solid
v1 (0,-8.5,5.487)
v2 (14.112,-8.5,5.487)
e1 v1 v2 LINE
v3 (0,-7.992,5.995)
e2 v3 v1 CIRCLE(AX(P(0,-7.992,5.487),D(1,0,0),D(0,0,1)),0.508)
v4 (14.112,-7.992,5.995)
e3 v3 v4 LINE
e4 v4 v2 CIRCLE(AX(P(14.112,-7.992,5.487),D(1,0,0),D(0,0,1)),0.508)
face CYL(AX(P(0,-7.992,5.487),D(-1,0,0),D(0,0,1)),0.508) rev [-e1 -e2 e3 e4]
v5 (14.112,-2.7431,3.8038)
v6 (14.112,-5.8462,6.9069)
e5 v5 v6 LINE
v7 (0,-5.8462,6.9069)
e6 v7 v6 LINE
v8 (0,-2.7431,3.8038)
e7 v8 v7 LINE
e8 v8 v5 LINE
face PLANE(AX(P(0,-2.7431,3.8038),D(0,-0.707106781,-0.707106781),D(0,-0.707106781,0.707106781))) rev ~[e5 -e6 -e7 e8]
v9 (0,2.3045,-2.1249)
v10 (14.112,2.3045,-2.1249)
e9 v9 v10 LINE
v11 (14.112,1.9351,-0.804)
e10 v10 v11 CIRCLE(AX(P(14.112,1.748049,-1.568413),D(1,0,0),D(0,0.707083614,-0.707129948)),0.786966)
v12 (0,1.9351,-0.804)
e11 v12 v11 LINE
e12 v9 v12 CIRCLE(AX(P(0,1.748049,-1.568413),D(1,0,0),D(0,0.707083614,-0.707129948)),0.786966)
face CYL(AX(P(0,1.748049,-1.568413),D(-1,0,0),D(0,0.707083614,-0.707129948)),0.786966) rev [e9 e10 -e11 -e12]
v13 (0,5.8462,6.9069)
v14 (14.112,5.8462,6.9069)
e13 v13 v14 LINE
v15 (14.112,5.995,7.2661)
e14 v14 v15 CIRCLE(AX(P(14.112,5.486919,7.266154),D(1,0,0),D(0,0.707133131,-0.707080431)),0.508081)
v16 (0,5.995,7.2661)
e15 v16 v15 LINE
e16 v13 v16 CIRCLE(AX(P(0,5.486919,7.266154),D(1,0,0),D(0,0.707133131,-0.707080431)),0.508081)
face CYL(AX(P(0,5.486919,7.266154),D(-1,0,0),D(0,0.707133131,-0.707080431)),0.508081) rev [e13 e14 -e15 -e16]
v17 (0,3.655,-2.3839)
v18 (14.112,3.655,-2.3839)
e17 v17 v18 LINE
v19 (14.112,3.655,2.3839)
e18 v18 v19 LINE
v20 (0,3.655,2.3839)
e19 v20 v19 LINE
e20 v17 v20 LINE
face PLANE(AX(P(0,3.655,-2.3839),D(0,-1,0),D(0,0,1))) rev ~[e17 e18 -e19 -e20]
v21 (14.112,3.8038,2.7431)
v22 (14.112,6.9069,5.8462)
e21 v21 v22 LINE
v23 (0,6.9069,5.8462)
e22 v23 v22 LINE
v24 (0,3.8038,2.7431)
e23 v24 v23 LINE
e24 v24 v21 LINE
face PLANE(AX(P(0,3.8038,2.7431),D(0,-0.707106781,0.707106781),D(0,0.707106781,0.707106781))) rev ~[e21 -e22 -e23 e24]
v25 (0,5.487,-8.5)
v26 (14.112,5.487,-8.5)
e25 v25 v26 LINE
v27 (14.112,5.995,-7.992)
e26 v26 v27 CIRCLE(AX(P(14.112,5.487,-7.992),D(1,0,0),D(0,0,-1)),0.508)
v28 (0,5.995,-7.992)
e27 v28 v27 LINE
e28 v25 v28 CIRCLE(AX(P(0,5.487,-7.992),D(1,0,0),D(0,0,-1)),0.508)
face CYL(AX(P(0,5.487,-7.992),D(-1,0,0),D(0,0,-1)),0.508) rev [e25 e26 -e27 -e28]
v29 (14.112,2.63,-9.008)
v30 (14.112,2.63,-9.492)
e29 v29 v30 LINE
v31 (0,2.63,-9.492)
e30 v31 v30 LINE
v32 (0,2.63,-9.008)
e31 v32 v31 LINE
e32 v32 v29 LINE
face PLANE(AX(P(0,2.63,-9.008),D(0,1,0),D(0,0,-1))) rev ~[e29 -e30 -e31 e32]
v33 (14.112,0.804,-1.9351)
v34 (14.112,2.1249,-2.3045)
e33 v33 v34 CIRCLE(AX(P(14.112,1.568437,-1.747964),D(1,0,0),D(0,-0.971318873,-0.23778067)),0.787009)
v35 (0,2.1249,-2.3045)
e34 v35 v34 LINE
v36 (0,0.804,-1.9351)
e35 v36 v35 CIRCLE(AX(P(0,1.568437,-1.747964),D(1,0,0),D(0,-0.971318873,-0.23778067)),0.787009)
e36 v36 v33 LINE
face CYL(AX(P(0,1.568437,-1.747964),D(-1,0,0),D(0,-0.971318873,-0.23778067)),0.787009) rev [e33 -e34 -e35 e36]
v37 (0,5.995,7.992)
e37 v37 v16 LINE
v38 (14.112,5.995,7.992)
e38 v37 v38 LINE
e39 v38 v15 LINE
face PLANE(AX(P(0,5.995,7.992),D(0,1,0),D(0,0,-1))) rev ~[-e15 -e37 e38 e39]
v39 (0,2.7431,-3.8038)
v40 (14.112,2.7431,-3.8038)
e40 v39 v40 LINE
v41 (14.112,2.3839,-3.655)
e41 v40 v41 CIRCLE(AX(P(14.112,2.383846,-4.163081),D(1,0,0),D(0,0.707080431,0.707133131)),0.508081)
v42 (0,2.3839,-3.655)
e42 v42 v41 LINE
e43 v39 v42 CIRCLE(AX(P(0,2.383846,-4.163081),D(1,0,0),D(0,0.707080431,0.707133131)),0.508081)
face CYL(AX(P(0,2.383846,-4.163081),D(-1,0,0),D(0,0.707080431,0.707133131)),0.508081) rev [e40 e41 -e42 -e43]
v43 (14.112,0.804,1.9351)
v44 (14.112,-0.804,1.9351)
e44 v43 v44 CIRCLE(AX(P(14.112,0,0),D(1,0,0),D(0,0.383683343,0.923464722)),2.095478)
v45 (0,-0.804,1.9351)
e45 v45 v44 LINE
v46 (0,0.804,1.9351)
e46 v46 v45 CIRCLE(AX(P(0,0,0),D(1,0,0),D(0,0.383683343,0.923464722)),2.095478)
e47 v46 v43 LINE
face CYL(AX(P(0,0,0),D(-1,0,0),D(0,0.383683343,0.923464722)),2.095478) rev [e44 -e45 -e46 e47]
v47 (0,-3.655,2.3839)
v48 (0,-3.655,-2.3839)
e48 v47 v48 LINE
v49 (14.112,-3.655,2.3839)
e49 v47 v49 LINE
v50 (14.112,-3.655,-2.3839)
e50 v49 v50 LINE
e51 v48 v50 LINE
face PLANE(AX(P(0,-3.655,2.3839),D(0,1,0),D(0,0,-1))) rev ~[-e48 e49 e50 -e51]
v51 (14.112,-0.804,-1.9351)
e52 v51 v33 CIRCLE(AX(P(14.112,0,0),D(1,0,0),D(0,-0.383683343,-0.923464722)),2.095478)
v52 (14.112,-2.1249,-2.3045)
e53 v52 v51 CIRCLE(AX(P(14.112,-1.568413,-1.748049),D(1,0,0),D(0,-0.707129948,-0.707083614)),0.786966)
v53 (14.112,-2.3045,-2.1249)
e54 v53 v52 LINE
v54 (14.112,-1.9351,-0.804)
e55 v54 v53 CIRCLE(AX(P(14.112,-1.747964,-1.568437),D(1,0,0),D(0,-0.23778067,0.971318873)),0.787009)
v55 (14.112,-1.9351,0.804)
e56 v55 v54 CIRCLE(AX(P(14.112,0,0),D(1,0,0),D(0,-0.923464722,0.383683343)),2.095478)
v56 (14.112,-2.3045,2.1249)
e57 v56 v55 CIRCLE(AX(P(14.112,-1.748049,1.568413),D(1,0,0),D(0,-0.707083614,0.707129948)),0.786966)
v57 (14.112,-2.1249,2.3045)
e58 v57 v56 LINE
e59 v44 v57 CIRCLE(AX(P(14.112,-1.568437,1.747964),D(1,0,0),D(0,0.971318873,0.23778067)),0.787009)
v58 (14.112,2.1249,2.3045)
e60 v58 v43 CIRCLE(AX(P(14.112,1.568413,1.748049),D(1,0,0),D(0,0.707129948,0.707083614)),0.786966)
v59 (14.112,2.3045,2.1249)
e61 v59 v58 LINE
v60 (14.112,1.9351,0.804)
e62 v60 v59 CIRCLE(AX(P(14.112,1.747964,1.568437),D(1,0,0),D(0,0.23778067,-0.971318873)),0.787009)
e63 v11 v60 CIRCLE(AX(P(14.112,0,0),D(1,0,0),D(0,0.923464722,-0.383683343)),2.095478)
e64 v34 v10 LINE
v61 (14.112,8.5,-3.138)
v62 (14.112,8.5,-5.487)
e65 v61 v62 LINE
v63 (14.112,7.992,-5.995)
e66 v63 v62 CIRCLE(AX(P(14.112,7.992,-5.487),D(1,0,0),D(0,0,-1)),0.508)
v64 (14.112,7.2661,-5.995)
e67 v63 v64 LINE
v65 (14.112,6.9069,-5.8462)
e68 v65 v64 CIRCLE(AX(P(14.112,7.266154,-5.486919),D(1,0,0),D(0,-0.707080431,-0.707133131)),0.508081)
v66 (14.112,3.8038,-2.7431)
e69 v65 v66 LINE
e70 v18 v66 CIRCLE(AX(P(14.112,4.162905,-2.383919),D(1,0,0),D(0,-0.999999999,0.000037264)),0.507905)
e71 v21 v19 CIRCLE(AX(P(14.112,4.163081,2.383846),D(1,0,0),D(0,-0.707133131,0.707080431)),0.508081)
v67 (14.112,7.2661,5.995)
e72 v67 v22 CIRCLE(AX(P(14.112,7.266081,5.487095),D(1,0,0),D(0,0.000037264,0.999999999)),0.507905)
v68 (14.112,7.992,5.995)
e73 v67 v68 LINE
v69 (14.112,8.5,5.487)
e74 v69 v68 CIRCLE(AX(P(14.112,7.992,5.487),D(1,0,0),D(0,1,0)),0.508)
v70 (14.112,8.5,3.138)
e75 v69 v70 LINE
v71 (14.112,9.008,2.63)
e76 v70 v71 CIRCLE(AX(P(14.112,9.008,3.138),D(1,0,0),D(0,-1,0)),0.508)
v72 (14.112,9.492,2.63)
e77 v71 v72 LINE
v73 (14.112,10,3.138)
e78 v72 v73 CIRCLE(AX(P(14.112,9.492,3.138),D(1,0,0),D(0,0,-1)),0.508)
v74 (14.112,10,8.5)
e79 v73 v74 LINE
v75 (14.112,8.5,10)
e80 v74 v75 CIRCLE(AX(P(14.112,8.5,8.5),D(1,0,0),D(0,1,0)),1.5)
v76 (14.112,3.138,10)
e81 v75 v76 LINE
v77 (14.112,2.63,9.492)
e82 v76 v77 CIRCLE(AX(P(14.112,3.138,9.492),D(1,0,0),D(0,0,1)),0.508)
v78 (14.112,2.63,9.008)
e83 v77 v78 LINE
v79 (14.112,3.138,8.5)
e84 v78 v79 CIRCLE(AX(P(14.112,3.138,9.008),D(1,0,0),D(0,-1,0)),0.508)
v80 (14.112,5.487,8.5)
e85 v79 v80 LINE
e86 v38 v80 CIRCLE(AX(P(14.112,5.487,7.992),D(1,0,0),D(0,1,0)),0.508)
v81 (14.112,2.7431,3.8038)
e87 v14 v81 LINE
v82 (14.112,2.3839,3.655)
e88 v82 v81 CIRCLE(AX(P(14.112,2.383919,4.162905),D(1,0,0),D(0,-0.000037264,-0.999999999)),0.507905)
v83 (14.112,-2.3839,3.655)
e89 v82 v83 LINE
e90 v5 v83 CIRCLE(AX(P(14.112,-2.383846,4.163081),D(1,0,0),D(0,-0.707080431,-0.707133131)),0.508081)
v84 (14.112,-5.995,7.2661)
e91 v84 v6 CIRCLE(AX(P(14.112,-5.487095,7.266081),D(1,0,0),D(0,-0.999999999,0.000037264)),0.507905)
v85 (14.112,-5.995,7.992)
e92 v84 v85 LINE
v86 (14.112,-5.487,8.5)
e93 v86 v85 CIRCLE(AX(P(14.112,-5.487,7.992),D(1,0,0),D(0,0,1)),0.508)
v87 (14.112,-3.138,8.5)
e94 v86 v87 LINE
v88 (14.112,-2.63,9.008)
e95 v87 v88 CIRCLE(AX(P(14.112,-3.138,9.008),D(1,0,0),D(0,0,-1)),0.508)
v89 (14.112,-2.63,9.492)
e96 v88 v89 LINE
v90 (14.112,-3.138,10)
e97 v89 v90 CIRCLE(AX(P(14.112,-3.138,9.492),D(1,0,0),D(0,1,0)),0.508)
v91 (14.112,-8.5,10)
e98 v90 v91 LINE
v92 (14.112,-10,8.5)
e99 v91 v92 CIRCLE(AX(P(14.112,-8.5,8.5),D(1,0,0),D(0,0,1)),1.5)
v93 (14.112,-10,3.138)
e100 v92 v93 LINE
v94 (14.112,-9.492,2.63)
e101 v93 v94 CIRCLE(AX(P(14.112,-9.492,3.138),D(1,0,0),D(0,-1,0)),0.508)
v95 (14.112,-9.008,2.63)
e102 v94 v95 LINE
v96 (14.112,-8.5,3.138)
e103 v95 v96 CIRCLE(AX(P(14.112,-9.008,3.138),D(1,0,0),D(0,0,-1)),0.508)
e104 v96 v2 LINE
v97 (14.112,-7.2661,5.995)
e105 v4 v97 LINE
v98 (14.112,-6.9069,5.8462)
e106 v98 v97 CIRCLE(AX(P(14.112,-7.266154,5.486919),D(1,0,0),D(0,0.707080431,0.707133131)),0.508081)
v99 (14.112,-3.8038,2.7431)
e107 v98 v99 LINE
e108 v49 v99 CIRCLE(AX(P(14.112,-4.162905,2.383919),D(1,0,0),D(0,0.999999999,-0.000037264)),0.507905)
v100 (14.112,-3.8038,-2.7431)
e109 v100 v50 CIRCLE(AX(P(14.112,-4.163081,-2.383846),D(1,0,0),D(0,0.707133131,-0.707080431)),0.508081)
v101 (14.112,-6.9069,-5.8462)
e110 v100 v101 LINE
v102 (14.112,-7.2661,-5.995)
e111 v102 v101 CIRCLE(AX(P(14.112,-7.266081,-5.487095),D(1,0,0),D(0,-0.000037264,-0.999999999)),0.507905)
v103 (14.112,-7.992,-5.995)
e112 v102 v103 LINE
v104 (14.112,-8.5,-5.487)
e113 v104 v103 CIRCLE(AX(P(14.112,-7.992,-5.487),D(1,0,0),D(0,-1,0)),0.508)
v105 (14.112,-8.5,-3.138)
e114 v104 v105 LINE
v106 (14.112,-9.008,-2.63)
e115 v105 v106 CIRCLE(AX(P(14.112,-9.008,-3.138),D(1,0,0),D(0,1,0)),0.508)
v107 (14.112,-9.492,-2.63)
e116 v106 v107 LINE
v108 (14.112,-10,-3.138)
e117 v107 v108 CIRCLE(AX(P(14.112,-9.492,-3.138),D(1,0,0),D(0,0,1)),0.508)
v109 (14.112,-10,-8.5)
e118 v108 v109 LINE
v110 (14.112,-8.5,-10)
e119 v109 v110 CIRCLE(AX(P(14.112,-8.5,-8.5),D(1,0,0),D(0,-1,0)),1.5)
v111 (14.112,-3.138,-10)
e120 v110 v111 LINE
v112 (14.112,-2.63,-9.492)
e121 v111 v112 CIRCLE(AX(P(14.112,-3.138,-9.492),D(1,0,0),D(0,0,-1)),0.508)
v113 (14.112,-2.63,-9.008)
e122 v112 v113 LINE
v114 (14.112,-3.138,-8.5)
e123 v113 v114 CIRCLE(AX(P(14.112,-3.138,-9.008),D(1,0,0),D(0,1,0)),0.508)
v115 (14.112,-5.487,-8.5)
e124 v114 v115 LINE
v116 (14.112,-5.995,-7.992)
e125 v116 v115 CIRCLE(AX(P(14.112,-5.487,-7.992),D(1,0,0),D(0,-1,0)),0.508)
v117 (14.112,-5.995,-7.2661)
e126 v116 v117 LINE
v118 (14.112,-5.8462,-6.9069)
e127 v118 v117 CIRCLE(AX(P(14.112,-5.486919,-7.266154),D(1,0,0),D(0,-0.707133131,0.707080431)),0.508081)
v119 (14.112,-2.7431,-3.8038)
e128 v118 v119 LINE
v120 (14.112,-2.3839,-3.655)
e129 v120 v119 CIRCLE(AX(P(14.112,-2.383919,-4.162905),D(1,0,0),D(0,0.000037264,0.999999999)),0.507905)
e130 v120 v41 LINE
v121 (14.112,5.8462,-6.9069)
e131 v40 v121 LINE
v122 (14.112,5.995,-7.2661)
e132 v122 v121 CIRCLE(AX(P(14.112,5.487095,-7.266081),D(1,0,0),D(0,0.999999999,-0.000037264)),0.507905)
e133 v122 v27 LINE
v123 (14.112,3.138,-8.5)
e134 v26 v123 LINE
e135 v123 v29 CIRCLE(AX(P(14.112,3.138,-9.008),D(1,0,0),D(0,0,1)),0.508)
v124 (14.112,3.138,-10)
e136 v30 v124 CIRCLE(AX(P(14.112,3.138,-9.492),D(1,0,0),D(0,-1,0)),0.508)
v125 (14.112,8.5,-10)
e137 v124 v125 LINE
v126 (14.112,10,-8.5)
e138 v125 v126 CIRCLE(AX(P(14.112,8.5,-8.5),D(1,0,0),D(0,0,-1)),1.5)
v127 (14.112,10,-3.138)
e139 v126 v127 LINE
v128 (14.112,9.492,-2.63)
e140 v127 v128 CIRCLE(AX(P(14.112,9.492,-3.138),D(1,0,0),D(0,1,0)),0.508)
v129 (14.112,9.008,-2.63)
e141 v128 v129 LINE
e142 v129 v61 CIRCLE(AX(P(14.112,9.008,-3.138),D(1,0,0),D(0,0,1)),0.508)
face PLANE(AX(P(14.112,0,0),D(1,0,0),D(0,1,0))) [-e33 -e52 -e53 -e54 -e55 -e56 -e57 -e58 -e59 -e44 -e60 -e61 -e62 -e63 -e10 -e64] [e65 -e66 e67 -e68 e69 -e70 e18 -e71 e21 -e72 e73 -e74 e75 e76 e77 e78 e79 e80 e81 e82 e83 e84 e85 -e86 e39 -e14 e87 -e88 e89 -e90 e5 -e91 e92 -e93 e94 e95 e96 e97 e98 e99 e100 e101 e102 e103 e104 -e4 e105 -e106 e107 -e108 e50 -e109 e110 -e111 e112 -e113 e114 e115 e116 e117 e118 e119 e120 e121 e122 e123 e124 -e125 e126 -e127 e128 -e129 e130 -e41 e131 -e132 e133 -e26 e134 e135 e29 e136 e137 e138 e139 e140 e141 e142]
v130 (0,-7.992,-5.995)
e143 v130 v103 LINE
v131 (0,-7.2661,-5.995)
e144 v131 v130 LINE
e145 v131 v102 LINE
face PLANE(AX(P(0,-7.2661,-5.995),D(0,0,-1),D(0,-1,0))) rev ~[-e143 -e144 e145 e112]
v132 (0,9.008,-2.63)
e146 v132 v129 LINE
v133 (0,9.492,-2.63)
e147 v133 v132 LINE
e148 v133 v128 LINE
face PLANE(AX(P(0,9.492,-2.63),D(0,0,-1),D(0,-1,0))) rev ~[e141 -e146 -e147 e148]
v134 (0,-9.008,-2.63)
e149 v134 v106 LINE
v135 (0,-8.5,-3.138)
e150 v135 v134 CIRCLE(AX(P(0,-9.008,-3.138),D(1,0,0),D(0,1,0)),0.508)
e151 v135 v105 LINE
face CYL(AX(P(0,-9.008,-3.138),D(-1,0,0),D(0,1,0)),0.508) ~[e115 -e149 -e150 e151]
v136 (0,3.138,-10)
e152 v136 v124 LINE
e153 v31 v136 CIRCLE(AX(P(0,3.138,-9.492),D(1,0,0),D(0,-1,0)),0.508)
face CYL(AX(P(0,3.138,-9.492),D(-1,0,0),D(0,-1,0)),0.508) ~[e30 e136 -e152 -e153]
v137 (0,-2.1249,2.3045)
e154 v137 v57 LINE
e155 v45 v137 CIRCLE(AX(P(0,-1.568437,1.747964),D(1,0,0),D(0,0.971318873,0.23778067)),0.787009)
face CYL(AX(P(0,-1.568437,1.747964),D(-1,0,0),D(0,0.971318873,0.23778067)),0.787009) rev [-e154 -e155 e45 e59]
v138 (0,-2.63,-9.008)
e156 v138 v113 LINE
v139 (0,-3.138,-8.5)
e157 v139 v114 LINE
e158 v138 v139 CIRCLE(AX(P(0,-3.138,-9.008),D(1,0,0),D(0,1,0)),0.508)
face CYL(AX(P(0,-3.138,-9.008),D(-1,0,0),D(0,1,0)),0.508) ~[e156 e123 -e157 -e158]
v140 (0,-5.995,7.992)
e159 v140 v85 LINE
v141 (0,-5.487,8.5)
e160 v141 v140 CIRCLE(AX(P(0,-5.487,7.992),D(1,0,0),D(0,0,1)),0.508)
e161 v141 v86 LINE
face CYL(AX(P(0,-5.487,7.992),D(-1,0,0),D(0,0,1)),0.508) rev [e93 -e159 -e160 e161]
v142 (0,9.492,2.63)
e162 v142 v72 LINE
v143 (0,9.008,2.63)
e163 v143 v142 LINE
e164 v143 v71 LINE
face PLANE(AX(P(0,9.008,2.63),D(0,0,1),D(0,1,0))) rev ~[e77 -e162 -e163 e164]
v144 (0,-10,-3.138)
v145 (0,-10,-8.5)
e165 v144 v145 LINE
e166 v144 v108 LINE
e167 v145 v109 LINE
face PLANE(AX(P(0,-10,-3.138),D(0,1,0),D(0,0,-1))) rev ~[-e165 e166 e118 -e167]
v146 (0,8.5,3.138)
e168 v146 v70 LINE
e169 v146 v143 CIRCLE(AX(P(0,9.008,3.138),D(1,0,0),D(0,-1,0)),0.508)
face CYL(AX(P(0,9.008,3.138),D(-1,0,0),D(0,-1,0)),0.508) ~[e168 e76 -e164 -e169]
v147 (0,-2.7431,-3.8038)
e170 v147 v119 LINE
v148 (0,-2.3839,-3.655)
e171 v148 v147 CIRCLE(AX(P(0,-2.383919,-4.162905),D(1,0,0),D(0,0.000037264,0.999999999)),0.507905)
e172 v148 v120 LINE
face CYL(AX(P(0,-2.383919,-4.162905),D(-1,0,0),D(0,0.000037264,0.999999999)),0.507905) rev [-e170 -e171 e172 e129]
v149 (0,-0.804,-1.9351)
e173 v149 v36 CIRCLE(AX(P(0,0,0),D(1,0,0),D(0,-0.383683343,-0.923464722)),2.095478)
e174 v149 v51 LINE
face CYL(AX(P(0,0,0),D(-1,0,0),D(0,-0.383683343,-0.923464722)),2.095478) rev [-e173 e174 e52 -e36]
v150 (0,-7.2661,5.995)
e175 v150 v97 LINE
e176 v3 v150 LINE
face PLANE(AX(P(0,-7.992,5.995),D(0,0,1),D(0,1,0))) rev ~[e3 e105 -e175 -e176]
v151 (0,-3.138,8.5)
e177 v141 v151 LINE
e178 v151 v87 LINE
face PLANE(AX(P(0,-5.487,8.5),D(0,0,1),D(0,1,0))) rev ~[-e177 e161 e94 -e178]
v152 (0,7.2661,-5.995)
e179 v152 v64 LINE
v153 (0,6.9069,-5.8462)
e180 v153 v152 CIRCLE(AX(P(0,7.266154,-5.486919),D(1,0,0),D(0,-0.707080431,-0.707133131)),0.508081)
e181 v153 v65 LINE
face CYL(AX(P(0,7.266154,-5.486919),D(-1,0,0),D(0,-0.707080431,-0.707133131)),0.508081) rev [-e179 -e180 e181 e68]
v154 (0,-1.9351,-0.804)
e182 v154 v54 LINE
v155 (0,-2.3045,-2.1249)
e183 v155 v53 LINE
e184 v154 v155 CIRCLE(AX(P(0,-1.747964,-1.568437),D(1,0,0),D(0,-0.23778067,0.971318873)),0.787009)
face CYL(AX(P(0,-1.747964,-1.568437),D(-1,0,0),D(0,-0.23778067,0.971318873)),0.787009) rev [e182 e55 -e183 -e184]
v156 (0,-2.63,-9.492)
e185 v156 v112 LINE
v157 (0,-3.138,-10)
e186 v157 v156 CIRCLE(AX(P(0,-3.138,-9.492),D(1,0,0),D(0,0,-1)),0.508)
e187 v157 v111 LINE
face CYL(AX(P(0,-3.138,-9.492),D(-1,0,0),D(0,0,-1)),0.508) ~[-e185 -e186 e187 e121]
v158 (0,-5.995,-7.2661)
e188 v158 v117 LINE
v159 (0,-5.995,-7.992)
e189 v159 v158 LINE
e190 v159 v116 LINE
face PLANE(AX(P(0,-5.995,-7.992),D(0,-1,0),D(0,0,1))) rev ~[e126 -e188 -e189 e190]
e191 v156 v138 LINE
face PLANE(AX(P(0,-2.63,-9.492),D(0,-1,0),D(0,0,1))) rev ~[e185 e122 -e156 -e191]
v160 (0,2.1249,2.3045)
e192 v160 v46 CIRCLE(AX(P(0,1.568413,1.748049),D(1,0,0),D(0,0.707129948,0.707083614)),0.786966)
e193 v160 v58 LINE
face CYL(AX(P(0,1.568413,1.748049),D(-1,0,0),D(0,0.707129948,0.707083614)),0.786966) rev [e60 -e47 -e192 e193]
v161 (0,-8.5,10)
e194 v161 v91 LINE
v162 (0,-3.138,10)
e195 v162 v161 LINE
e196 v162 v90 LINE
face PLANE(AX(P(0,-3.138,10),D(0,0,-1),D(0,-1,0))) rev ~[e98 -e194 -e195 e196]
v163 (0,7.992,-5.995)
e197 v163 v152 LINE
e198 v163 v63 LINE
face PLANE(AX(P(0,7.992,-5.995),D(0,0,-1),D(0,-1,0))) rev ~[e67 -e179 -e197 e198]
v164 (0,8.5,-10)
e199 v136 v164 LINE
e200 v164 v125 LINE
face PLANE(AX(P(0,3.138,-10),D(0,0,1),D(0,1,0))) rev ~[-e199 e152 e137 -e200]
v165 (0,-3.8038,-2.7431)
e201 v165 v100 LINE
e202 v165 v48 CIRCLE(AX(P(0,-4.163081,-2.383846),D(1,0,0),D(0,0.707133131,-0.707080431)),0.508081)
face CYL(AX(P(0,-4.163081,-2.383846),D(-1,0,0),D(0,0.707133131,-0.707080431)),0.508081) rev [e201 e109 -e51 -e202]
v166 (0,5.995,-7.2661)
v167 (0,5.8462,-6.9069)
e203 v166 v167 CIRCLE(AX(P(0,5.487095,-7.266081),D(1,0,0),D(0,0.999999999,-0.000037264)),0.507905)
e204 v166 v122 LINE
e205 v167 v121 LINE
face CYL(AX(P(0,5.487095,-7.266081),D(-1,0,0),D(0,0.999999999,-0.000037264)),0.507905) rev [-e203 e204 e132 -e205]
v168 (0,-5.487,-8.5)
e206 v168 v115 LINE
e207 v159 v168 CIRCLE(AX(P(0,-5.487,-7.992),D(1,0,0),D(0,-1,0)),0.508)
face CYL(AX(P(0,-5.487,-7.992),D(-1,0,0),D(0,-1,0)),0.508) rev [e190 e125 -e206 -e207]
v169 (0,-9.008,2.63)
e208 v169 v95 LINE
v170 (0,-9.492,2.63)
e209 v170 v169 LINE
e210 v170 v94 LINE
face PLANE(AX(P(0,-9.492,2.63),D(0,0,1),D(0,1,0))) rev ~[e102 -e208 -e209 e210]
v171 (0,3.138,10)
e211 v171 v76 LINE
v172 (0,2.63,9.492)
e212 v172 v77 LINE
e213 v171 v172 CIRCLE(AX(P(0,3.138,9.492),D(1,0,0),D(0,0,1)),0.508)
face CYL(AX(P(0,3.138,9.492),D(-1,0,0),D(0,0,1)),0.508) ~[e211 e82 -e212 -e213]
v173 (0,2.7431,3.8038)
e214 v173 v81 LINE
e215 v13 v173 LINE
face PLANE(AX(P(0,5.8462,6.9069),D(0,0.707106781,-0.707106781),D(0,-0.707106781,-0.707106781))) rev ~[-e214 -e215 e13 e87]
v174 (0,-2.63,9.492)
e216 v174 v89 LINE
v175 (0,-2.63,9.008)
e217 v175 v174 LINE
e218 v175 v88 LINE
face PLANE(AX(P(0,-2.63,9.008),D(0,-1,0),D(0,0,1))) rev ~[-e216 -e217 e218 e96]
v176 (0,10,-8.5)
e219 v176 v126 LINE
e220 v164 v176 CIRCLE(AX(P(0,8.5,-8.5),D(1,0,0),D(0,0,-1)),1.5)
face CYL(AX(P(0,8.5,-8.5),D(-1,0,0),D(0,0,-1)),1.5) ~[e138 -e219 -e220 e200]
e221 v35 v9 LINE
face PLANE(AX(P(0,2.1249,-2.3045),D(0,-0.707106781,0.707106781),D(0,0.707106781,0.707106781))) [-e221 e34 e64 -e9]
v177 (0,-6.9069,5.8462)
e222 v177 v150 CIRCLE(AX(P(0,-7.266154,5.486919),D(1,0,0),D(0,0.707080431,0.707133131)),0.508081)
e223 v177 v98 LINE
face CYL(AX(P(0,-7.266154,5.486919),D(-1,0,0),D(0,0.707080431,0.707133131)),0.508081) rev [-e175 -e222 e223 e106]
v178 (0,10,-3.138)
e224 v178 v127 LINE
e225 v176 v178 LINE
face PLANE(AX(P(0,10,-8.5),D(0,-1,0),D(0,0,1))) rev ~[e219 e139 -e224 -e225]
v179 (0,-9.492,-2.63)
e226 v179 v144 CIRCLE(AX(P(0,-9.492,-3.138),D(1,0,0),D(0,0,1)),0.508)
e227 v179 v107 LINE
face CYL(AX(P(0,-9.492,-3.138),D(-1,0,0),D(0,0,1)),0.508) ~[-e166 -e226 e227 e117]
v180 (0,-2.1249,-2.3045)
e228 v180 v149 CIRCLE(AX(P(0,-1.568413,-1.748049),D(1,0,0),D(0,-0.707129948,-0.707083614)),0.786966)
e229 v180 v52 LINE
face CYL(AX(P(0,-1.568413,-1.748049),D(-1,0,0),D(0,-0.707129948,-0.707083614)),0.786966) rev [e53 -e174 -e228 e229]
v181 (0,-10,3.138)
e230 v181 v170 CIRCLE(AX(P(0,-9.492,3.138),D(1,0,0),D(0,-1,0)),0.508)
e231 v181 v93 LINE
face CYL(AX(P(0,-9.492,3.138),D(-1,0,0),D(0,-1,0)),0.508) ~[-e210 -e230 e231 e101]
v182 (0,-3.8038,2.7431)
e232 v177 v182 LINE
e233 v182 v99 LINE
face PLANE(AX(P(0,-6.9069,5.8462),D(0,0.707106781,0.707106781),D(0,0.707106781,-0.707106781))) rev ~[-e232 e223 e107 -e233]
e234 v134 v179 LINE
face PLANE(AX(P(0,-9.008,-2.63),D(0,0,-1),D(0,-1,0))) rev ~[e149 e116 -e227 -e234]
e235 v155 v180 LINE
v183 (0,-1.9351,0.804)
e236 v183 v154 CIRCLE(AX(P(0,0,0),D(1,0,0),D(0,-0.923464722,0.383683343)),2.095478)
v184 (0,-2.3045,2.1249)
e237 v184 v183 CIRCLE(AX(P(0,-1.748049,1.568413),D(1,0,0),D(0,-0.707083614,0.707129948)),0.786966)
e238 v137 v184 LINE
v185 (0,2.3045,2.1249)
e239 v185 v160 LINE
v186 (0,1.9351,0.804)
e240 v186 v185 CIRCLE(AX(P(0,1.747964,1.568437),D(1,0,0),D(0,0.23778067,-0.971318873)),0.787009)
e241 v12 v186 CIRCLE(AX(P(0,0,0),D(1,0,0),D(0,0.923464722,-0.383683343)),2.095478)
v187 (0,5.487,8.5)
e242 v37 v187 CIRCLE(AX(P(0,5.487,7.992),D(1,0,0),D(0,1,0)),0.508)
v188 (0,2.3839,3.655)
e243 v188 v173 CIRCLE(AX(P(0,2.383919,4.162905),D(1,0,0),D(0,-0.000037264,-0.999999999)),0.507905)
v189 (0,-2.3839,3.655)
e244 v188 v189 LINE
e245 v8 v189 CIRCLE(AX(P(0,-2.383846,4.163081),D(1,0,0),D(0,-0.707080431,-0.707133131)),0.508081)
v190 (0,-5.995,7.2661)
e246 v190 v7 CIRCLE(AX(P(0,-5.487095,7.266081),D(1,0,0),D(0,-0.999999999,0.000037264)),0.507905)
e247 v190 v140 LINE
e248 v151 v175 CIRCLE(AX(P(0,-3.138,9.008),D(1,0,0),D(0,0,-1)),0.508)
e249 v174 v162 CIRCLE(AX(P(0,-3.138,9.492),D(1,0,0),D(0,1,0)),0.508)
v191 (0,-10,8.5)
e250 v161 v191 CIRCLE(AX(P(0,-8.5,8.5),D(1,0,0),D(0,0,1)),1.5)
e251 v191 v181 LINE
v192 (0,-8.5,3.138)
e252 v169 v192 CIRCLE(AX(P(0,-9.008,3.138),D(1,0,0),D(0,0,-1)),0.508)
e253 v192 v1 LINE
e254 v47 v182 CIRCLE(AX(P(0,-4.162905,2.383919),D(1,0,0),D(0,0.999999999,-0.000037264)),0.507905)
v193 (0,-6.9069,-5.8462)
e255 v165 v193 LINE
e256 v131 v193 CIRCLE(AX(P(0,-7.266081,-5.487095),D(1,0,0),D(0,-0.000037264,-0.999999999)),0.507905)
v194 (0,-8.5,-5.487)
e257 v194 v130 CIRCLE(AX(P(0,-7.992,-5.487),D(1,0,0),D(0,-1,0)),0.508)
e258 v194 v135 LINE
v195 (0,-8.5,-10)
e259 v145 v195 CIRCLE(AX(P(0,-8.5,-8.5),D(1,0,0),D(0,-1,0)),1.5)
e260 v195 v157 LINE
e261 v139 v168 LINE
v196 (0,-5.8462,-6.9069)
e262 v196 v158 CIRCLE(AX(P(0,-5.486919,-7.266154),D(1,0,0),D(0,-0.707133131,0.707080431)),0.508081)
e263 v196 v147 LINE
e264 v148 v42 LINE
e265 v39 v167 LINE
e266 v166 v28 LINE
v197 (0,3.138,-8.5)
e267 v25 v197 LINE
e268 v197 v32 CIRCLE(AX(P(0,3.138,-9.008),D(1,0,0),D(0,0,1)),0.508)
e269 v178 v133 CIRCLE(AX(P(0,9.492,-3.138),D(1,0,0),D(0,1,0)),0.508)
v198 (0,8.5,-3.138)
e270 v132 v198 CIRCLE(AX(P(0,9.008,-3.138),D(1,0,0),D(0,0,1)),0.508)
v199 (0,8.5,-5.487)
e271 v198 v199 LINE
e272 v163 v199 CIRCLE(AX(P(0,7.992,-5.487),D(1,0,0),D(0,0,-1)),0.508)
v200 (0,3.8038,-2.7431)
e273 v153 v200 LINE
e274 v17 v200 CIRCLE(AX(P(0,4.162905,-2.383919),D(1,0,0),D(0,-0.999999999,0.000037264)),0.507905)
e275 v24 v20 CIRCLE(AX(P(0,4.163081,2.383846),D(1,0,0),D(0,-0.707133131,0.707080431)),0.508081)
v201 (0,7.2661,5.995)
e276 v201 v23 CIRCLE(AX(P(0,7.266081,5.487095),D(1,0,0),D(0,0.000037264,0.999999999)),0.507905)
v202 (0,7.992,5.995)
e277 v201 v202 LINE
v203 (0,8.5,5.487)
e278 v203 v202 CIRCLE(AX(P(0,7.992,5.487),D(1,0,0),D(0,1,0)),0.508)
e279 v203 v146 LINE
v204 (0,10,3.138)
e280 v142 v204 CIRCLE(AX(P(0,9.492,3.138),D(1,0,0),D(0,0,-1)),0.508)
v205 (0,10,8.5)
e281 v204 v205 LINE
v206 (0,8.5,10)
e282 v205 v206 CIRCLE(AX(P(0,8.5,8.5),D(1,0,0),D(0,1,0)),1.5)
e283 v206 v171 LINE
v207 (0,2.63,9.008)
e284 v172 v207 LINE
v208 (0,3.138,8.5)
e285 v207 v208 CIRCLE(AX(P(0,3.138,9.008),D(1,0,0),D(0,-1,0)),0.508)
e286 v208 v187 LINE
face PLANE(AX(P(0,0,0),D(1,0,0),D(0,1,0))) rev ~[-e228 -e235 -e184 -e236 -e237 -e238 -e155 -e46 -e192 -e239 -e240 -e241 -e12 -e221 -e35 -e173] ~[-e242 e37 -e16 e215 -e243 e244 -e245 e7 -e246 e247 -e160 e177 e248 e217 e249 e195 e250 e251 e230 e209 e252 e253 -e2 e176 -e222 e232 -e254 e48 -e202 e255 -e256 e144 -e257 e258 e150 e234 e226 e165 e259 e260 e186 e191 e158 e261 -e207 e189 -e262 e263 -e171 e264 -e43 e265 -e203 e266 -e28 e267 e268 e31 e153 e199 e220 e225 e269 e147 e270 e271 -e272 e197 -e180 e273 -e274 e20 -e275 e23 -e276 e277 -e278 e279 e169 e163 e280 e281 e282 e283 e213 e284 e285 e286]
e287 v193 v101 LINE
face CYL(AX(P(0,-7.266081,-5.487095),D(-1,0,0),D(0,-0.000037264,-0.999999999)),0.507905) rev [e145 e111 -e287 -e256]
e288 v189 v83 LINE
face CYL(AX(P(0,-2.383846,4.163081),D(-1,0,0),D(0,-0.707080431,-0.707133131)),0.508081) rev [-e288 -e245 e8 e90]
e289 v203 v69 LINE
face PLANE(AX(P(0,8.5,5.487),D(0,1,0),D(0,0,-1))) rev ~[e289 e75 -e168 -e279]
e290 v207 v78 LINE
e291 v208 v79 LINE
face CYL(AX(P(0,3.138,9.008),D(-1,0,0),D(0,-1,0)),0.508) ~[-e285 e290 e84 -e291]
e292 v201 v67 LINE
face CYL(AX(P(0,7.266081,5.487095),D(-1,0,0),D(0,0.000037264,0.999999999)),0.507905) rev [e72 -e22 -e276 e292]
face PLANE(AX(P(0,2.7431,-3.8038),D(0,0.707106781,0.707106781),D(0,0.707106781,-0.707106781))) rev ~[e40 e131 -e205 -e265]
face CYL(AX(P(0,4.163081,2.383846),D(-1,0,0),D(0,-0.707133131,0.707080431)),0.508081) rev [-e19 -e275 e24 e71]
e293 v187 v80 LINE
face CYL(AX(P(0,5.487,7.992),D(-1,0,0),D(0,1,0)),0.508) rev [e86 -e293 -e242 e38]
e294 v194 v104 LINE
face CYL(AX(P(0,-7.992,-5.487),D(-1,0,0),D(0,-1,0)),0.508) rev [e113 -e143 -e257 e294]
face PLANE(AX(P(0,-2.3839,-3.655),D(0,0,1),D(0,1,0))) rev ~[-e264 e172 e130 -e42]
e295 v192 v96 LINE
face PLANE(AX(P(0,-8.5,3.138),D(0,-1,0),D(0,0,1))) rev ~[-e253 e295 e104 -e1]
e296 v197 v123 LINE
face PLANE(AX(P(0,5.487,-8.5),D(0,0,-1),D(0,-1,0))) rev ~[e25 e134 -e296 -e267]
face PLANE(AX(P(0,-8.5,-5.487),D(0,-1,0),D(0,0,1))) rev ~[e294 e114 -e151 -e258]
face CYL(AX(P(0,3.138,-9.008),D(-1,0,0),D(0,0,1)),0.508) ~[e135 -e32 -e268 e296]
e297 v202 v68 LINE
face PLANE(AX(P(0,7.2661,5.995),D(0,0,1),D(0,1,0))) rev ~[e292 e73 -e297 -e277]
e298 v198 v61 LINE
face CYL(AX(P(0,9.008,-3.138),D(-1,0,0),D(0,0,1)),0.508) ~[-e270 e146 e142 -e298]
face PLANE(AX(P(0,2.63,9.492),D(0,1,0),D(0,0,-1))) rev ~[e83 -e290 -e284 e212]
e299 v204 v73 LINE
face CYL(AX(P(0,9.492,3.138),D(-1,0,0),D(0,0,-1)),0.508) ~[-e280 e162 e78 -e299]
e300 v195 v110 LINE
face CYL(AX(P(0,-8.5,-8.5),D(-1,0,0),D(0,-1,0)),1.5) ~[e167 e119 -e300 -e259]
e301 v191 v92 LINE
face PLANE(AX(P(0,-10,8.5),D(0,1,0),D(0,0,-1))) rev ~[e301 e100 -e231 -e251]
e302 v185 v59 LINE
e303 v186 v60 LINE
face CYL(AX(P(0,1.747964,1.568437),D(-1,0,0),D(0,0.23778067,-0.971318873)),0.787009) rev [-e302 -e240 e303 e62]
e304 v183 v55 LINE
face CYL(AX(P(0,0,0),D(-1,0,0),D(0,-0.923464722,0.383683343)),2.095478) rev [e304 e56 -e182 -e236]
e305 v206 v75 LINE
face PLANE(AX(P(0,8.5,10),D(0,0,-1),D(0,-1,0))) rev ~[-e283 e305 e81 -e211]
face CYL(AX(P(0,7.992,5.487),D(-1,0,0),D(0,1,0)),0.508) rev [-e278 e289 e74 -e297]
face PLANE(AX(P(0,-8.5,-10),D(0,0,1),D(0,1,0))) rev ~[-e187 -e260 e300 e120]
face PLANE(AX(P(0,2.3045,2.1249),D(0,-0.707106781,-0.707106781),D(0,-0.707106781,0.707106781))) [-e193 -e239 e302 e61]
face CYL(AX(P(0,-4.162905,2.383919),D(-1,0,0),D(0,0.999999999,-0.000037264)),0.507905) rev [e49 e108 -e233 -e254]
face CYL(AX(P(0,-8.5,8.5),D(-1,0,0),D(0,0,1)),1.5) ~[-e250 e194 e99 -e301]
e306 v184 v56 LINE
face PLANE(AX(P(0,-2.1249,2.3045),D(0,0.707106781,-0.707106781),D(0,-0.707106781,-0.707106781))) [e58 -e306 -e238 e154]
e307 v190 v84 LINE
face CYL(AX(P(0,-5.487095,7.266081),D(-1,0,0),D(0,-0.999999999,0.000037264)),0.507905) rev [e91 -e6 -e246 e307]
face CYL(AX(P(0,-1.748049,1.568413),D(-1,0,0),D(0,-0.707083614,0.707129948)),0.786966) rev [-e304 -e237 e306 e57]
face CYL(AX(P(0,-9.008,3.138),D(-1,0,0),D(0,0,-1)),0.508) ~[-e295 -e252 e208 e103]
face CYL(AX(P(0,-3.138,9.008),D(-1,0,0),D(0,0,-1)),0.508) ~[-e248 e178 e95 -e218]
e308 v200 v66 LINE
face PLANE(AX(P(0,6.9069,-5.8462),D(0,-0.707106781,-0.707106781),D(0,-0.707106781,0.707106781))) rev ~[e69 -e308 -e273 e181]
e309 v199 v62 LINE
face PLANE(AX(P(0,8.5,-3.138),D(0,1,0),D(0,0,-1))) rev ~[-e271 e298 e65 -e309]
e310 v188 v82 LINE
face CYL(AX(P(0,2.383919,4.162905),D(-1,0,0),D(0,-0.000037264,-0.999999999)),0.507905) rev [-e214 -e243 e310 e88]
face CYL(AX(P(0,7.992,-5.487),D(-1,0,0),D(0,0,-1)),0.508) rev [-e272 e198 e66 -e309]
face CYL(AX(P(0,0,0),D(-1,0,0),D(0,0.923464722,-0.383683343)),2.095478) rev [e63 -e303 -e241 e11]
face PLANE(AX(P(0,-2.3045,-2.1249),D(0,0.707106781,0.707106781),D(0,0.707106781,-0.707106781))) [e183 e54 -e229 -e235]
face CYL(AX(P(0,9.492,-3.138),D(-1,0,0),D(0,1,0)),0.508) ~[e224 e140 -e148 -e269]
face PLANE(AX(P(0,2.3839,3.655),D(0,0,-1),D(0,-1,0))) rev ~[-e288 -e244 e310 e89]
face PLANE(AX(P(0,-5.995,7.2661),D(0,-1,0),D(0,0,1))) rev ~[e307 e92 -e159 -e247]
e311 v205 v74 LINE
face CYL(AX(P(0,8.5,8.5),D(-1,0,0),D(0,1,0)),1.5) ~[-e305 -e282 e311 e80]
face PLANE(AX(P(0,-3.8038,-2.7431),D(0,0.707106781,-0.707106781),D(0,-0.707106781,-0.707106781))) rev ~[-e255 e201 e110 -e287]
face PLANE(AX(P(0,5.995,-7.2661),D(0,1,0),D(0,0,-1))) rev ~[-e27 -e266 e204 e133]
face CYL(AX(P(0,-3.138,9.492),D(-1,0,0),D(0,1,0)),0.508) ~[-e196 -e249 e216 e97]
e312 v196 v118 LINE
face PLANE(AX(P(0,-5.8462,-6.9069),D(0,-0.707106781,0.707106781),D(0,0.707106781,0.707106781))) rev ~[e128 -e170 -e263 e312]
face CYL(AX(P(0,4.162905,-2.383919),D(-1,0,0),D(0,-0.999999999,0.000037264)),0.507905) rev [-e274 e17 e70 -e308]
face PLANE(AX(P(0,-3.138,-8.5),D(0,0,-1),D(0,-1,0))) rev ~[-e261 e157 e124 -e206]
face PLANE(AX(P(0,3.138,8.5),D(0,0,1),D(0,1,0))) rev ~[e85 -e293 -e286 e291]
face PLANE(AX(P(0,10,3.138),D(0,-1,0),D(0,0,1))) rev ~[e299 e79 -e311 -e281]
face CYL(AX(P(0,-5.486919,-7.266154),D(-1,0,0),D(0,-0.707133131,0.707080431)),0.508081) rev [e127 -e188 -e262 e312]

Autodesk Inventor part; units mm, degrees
ref_plane "YZ Plane" through (0, 0, 0) normal (1, 0, 0) x (0, 1, 0)
ref_plane "XZ Plane" through (0, 0, 0) normal (0, 1, 0) x (-1, 0, 0)
ref_plane "XY Plane" through (0, 0, 0) normal (0, 0, 1) x (1, 0, 0)
sketch "Sketch1" plane through (0, 0, 0) normal (1, 0, 0) x (0, 1, 0)
  arc A0 (0.804, -1.9351) -> (2.1249, -2.3045) centre (1.5684, -1.748) ccw
  line L0 (2.1249, -2.3045) -> (2.3045, -2.1249)
  arc A1 (2.3045, -2.1249) -> (1.9351, -0.804) centre (1.748, -1.5684) ccw
  arc A2 (1.9351, -0.804) -> (1.9351, 0.804) centre (0, 0) ccw
  arc A3 (1.9351, 0.804) -> (2.3045, 2.1249) centre (1.748, 1.5684) ccw
  line L1 (2.3045, 2.1249) -> (2.1249, 2.3045)
  arc A4 (2.1249, 2.3045) -> (0.804, 1.9351) centre (1.5684, 1.748) ccw
  arc A5 (0.804, 1.9351) -> (-0.804, 1.9351) centre (0, 0) ccw
  arc A6 (-0.804, 1.9351) -> (-2.1249, 2.3045) centre (-1.5684, 1.748) ccw
  line L2 (-2.1249, 2.3045) -> (-2.3045, 2.1249)
  arc A7 (-2.3045, 2.1249) -> (-1.9351, 0.804) centre (-1.748, 1.5684) ccw
  arc A8 (-1.9351, 0.804) -> (-1.9351, -0.804) centre (0, 0) ccw
  arc A9 (-1.9351, -0.804) -> (-2.3045, -2.1249) centre (-1.748, -1.5684) ccw
  line L3 (-2.3045, -2.1249) -> (-2.1249, -2.3045)
  arc A10 (-2.1249, -2.3045) -> (-0.804, -1.9351) centre (-1.5684, -1.748) ccw
  arc A11 (-0.804, -1.9351) -> (0.804, -1.9351) centre (0, 0) ccw
  line L4 (9.008, 2.63) -> (9.492, 2.63)
  arc A12 (8.5, 3.138) -> (9.008, 2.63) centre (9.008, 3.138) ccw
  line L5 (8.5, 5.487) -> (8.5, 3.138)
  arc A13 (8.5, 5.487) -> (7.992, 5.995) centre (7.992, 5.487) ccw
  line L6 (7.2661, 5.995) -> (7.992, 5.995)
  arc A14 (7.2661, 5.995) -> (6.9069, 5.8462) centre (7.2661, 5.487) ccw
  line L7 (3.8038, 2.7431) -> (6.9069, 5.8462)
  arc A15 (3.8038, 2.7431) -> (3.655, 2.3839) centre (4.163, 2.3839) ccw
  line L8 (3.655, -2.3839) -> (3.655, 2.3839)
  arc A16 (3.655, -2.3839) -> (3.8038, -2.7431) centre (4.163, -2.3839) ccw
  line L9 (6.9069, -5.8462) -> (3.8038, -2.7431)
  arc A17 (6.9069, -5.8462) -> (7.2661, -5.995) centre (7.2661, -5.487) ccw
  line L10 (7.992, -5.995) -> (7.2661, -5.995)
  arc A18 (7.992, -5.995) -> (8.5, -5.487) centre (7.992, -5.487) ccw
  line L11 (8.5, -3.138) -> (8.5, -5.487)
  arc A19 (9.008, -2.63) -> (8.5, -3.138) centre (9.008, -3.138) ccw
  line L12 (9.492, -2.63) -> (9.008, -2.63)
  arc A20 (10, -3.138) -> (9.492, -2.63) centre (9.492, -3.138) ccw
  line L13 (10, -8.5) -> (10, -3.138)
  arc A21 (8.5, -10) -> (10, -8.5) centre (8.5, -8.5) ccw
  line L14 (3.138, -10) -> (8.5, -10)
  arc A22 (2.63, -9.492) -> (3.138, -10) centre (3.138, -9.492) ccw
  line L15 (2.63, -9.008) -> (2.63, -9.492)
  arc A23 (3.138, -8.5) -> (2.63, -9.008) centre (3.138, -9.008) ccw
  line L16 (5.487, -8.5) -> (3.138, -8.5)
  arc A24 (5.487, -8.5) -> (5.995, -7.992) centre (5.487, -7.992) ccw
  line L17 (5.995, -7.2661) -> (5.995, -7.992)
  arc A25 (5.995, -7.2661) -> (5.8462, -6.9069) centre (5.487, -7.2661) ccw
  line L18 (2.7431, -3.8038) -> (5.8462, -6.9069)
  arc A26 (2.7431, -3.8038) -> (2.3839, -3.655) centre (2.3839, -4.163) ccw
  line L19 (-2.3839, -3.655) -> (2.3839, -3.655)
  arc A27 (-2.3839, -3.655) -> (-2.7431, -3.8038) centre (-2.3839, -4.163) ccw
  line L20 (-5.8462, -6.9069) -> (-2.7431, -3.8038)
  arc A28 (-5.8462, -6.9069) -> (-5.995, -7.2661) centre (-5.487, -7.2661) ccw
  line L21 (-5.995, -7.992) -> (-5.995, -7.2661)
  arc A29 (-5.995, -7.992) -> (-5.487, -8.5) centre (-5.487, -7.992) ccw
  line L22 (-3.138, -8.5) -> (-5.487, -8.5)
  arc A30 (-2.63, -9.008) -> (-3.138, -8.5) centre (-3.138, -9.008) ccw
  line L23 (-2.63, -9.492) -> (-2.63, -9.008)
  arc A31 (-3.138, -10) -> (-2.63, -9.492) centre (-3.138, -9.492) ccw
  line L24 (-8.5, -10) -> (-3.138, -10)
  arc A32 (-10, -8.5) -> (-8.5, -10) centre (-8.5, -8.5) ccw
  line L25 (-10, -3.138) -> (-10, -8.5)
  arc A33 (-9.492, -2.63) -> (-10, -3.138) centre (-9.492, -3.138) ccw
  line L26 (-9.008, -2.63) -> (-9.492, -2.63)
  arc A34 (-8.5, -3.138) -> (-9.008, -2.63) centre (-9.008, -3.138) ccw
  line L27 (-8.5, -5.487) -> (-8.5, -3.138)
  arc A35 (-8.5, -5.487) -> (-7.992, -5.995) centre (-7.992, -5.487) ccw
  line L28 (-7.2661, -5.995) -> (-7.992, -5.995)
  arc A36 (-7.2661, -5.995) -> (-6.9069, -5.8462) centre (-7.2661, -5.487) ccw
  line L29 (-3.8038, -2.7431) -> (-6.9069, -5.8462)
  arc A37 (-3.8038, -2.7431) -> (-3.655, -2.3839) centre (-4.163, -2.3839) ccw
  line L30 (-3.655, 2.3839) -> (-3.655, -2.3839)
  arc A38 (-3.655, 2.3839) -> (-3.8038, 2.7431) centre (-4.163, 2.3839) ccw
  line L31 (-6.9069, 5.8462) -> (-3.8038, 2.7431)
  arc A39 (-6.9069, 5.8462) -> (-7.2661, 5.995) centre (-7.2661, 5.487) ccw
  line L32 (-7.992, 5.995) -> (-7.2661, 5.995)
  arc A40 (-7.992, 5.995) -> (-8.5, 5.487) centre (-7.992, 5.487) ccw
  line L33 (-8.5, 3.138) -> (-8.5, 5.487)
  arc A41 (-9.008, 2.63) -> (-8.5, 3.138) centre (-9.008, 3.138) ccw
  line L34 (-9.492, 2.63) -> (-9.008, 2.63)
  arc A42 (-10, 3.138) -> (-9.492, 2.63) centre (-9.492, 3.138) ccw
  line L35 (-10, 8.5) -> (-10, 3.138)
  arc A43 (-8.5, 10) -> (-10, 8.5) centre (-8.5, 8.5) ccw
  line L36 (-3.138, 10) -> (-8.5, 10)
  arc A44 (-2.63, 9.492) -> (-3.138, 10) centre (-3.138, 9.492) ccw
  line L37 (-2.63, 9.008) -> (-2.63, 9.492)
  arc A45 (-3.138, 8.5) -> (-2.63, 9.008) centre (-3.138, 9.008) ccw
  line L38 (-5.487, 8.5) -> (-3.138, 8.5)
  arc A46 (-5.487, 8.5) -> (-5.995, 7.992) centre (-5.487, 7.992) ccw
  line L39 (-5.995, 7.2661) -> (-5.995, 7.992)
  arc A47 (-5.995, 7.2661) -> (-5.8462, 6.9069) centre (-5.487, 7.2661) ccw
  line L40 (-2.7431, 3.8038) -> (-5.8462, 6.9069)
  arc A48 (-2.7431, 3.8038) -> (-2.3839, 3.655) centre (-2.3839, 4.163) ccw
  line L41 (2.3839, 3.655) -> (-2.3839, 3.655)
  arc A49 (2.3839, 3.655) -> (2.7431, 3.8038) centre (2.3839, 4.163) ccw
  line L42 (5.8462, 6.9069) -> (2.7431, 3.8038)
  arc A50 (5.8462, 6.9069) -> (5.995, 7.2661) centre (5.487, 7.2661) ccw
  line L43 (5.995, 7.992) -> (5.995, 7.2661)
  arc A51 (5.995, 7.992) -> (5.487, 8.5) centre (5.487, 7.992) ccw
  line L44 (3.138, 8.5) -> (5.487, 8.5)
  arc A52 (2.63, 9.008) -> (3.138, 8.5) centre (3.138, 9.008) ccw
  line L45 (2.63, 9.492) -> (2.63, 9.008)
  arc A53 (3.138, 10) -> (2.63, 9.492) centre (3.138, 9.492) ccw
  line L46 (8.5, 10) -> (3.138, 10)
  arc A54 (10, 8.5) -> (8.5, 10) centre (8.5, 8.5) ccw
  line L47 (10, 3.138) -> (10, 8.5)
  arc A55 (9.492, 2.63) -> (10, 3.138) centre (9.492, 3.138) ccw
  point P0 (0.804, -1.9351)
  point P1 (-0.804, -1.9351)
  point P2 (-2.3045, -2.1249)
  point P3 (-1.9351, -0.804)
  point P4 (-1.9351, 0.804)
  point P5 (-2.1249, 2.3045)
  point P6 (-0.804, 1.9351)
  point P7 (0.804, 1.9351)
  point P8 (2.3045, 2.1249)
  point P9 (1.9351, 0.804)
  point P10 (1.9351, -0.804)
  point P11 (2.1249, -2.3045)
  point P12 (8.5, 3.138)
  point P13 (10, 8.5)
  point P14 (3.138, 10)
  point P15 (2.63, 9.008)
  point P16 (5.487, 8.5)
  point P17 (5.995, 7.2661)
  point P18 (2.7431, 3.8038)
  point P19 (-2.3839, 3.655)
  point P20 (-5.8462, 6.9069)
  point P21 (-5.995, 7.992)
  point P22 (-3.138, 8.5)
  point P23 (-2.63, 9.492)
  point P24 (-8.5, 10)
  point P25 (-10, 3.138)
  point P26 (-9.008, 2.63)
  point P27 (-8.5, 5.487)
  point P28 (-7.2661, 5.995)
  point P29 (-3.8038, 2.7431)
  point P30 (-3.655, -2.3839)
  point P31 (-6.9069, -5.8462)
  point P32 (-7.992, -5.995)
  point P33 (-8.5, -3.138)
  point P34 (-9.492, -2.63)
  point P35 (-10, -8.5)
  point P36 (-3.138, -10)
  point P37 (-2.63, -9.008)
  point P38 (-5.487, -8.5)
  point P39 (-5.995, -7.2661)
  point P40 (-2.7431, -3.8038)
  point P41 (2.3839, -3.655)
  point P42 (5.8462, -6.9069)
  point P43 (5.995, -7.992)
  point P44 (3.138, -8.5)
  point P45 (2.63, -9.492)
  point P46 (8.5, -10)
  point P47 (10, -3.138)
  point P48 (9.008, -2.63)
  point P49 (8.5, -5.487)
  point P50 (7.2661, -5.995)
  point P51 (3.8038, -2.7431)
  point P52 (3.655, 2.3839)
  point P53 (6.9069, 5.8462)
  point P54 (7.992, 5.995)
extrude "Extrusion1" add sketch "Sketch1" along normal blind 14.112
properties part number "2020_4x2020_hz" material "Aluminum 6061"
